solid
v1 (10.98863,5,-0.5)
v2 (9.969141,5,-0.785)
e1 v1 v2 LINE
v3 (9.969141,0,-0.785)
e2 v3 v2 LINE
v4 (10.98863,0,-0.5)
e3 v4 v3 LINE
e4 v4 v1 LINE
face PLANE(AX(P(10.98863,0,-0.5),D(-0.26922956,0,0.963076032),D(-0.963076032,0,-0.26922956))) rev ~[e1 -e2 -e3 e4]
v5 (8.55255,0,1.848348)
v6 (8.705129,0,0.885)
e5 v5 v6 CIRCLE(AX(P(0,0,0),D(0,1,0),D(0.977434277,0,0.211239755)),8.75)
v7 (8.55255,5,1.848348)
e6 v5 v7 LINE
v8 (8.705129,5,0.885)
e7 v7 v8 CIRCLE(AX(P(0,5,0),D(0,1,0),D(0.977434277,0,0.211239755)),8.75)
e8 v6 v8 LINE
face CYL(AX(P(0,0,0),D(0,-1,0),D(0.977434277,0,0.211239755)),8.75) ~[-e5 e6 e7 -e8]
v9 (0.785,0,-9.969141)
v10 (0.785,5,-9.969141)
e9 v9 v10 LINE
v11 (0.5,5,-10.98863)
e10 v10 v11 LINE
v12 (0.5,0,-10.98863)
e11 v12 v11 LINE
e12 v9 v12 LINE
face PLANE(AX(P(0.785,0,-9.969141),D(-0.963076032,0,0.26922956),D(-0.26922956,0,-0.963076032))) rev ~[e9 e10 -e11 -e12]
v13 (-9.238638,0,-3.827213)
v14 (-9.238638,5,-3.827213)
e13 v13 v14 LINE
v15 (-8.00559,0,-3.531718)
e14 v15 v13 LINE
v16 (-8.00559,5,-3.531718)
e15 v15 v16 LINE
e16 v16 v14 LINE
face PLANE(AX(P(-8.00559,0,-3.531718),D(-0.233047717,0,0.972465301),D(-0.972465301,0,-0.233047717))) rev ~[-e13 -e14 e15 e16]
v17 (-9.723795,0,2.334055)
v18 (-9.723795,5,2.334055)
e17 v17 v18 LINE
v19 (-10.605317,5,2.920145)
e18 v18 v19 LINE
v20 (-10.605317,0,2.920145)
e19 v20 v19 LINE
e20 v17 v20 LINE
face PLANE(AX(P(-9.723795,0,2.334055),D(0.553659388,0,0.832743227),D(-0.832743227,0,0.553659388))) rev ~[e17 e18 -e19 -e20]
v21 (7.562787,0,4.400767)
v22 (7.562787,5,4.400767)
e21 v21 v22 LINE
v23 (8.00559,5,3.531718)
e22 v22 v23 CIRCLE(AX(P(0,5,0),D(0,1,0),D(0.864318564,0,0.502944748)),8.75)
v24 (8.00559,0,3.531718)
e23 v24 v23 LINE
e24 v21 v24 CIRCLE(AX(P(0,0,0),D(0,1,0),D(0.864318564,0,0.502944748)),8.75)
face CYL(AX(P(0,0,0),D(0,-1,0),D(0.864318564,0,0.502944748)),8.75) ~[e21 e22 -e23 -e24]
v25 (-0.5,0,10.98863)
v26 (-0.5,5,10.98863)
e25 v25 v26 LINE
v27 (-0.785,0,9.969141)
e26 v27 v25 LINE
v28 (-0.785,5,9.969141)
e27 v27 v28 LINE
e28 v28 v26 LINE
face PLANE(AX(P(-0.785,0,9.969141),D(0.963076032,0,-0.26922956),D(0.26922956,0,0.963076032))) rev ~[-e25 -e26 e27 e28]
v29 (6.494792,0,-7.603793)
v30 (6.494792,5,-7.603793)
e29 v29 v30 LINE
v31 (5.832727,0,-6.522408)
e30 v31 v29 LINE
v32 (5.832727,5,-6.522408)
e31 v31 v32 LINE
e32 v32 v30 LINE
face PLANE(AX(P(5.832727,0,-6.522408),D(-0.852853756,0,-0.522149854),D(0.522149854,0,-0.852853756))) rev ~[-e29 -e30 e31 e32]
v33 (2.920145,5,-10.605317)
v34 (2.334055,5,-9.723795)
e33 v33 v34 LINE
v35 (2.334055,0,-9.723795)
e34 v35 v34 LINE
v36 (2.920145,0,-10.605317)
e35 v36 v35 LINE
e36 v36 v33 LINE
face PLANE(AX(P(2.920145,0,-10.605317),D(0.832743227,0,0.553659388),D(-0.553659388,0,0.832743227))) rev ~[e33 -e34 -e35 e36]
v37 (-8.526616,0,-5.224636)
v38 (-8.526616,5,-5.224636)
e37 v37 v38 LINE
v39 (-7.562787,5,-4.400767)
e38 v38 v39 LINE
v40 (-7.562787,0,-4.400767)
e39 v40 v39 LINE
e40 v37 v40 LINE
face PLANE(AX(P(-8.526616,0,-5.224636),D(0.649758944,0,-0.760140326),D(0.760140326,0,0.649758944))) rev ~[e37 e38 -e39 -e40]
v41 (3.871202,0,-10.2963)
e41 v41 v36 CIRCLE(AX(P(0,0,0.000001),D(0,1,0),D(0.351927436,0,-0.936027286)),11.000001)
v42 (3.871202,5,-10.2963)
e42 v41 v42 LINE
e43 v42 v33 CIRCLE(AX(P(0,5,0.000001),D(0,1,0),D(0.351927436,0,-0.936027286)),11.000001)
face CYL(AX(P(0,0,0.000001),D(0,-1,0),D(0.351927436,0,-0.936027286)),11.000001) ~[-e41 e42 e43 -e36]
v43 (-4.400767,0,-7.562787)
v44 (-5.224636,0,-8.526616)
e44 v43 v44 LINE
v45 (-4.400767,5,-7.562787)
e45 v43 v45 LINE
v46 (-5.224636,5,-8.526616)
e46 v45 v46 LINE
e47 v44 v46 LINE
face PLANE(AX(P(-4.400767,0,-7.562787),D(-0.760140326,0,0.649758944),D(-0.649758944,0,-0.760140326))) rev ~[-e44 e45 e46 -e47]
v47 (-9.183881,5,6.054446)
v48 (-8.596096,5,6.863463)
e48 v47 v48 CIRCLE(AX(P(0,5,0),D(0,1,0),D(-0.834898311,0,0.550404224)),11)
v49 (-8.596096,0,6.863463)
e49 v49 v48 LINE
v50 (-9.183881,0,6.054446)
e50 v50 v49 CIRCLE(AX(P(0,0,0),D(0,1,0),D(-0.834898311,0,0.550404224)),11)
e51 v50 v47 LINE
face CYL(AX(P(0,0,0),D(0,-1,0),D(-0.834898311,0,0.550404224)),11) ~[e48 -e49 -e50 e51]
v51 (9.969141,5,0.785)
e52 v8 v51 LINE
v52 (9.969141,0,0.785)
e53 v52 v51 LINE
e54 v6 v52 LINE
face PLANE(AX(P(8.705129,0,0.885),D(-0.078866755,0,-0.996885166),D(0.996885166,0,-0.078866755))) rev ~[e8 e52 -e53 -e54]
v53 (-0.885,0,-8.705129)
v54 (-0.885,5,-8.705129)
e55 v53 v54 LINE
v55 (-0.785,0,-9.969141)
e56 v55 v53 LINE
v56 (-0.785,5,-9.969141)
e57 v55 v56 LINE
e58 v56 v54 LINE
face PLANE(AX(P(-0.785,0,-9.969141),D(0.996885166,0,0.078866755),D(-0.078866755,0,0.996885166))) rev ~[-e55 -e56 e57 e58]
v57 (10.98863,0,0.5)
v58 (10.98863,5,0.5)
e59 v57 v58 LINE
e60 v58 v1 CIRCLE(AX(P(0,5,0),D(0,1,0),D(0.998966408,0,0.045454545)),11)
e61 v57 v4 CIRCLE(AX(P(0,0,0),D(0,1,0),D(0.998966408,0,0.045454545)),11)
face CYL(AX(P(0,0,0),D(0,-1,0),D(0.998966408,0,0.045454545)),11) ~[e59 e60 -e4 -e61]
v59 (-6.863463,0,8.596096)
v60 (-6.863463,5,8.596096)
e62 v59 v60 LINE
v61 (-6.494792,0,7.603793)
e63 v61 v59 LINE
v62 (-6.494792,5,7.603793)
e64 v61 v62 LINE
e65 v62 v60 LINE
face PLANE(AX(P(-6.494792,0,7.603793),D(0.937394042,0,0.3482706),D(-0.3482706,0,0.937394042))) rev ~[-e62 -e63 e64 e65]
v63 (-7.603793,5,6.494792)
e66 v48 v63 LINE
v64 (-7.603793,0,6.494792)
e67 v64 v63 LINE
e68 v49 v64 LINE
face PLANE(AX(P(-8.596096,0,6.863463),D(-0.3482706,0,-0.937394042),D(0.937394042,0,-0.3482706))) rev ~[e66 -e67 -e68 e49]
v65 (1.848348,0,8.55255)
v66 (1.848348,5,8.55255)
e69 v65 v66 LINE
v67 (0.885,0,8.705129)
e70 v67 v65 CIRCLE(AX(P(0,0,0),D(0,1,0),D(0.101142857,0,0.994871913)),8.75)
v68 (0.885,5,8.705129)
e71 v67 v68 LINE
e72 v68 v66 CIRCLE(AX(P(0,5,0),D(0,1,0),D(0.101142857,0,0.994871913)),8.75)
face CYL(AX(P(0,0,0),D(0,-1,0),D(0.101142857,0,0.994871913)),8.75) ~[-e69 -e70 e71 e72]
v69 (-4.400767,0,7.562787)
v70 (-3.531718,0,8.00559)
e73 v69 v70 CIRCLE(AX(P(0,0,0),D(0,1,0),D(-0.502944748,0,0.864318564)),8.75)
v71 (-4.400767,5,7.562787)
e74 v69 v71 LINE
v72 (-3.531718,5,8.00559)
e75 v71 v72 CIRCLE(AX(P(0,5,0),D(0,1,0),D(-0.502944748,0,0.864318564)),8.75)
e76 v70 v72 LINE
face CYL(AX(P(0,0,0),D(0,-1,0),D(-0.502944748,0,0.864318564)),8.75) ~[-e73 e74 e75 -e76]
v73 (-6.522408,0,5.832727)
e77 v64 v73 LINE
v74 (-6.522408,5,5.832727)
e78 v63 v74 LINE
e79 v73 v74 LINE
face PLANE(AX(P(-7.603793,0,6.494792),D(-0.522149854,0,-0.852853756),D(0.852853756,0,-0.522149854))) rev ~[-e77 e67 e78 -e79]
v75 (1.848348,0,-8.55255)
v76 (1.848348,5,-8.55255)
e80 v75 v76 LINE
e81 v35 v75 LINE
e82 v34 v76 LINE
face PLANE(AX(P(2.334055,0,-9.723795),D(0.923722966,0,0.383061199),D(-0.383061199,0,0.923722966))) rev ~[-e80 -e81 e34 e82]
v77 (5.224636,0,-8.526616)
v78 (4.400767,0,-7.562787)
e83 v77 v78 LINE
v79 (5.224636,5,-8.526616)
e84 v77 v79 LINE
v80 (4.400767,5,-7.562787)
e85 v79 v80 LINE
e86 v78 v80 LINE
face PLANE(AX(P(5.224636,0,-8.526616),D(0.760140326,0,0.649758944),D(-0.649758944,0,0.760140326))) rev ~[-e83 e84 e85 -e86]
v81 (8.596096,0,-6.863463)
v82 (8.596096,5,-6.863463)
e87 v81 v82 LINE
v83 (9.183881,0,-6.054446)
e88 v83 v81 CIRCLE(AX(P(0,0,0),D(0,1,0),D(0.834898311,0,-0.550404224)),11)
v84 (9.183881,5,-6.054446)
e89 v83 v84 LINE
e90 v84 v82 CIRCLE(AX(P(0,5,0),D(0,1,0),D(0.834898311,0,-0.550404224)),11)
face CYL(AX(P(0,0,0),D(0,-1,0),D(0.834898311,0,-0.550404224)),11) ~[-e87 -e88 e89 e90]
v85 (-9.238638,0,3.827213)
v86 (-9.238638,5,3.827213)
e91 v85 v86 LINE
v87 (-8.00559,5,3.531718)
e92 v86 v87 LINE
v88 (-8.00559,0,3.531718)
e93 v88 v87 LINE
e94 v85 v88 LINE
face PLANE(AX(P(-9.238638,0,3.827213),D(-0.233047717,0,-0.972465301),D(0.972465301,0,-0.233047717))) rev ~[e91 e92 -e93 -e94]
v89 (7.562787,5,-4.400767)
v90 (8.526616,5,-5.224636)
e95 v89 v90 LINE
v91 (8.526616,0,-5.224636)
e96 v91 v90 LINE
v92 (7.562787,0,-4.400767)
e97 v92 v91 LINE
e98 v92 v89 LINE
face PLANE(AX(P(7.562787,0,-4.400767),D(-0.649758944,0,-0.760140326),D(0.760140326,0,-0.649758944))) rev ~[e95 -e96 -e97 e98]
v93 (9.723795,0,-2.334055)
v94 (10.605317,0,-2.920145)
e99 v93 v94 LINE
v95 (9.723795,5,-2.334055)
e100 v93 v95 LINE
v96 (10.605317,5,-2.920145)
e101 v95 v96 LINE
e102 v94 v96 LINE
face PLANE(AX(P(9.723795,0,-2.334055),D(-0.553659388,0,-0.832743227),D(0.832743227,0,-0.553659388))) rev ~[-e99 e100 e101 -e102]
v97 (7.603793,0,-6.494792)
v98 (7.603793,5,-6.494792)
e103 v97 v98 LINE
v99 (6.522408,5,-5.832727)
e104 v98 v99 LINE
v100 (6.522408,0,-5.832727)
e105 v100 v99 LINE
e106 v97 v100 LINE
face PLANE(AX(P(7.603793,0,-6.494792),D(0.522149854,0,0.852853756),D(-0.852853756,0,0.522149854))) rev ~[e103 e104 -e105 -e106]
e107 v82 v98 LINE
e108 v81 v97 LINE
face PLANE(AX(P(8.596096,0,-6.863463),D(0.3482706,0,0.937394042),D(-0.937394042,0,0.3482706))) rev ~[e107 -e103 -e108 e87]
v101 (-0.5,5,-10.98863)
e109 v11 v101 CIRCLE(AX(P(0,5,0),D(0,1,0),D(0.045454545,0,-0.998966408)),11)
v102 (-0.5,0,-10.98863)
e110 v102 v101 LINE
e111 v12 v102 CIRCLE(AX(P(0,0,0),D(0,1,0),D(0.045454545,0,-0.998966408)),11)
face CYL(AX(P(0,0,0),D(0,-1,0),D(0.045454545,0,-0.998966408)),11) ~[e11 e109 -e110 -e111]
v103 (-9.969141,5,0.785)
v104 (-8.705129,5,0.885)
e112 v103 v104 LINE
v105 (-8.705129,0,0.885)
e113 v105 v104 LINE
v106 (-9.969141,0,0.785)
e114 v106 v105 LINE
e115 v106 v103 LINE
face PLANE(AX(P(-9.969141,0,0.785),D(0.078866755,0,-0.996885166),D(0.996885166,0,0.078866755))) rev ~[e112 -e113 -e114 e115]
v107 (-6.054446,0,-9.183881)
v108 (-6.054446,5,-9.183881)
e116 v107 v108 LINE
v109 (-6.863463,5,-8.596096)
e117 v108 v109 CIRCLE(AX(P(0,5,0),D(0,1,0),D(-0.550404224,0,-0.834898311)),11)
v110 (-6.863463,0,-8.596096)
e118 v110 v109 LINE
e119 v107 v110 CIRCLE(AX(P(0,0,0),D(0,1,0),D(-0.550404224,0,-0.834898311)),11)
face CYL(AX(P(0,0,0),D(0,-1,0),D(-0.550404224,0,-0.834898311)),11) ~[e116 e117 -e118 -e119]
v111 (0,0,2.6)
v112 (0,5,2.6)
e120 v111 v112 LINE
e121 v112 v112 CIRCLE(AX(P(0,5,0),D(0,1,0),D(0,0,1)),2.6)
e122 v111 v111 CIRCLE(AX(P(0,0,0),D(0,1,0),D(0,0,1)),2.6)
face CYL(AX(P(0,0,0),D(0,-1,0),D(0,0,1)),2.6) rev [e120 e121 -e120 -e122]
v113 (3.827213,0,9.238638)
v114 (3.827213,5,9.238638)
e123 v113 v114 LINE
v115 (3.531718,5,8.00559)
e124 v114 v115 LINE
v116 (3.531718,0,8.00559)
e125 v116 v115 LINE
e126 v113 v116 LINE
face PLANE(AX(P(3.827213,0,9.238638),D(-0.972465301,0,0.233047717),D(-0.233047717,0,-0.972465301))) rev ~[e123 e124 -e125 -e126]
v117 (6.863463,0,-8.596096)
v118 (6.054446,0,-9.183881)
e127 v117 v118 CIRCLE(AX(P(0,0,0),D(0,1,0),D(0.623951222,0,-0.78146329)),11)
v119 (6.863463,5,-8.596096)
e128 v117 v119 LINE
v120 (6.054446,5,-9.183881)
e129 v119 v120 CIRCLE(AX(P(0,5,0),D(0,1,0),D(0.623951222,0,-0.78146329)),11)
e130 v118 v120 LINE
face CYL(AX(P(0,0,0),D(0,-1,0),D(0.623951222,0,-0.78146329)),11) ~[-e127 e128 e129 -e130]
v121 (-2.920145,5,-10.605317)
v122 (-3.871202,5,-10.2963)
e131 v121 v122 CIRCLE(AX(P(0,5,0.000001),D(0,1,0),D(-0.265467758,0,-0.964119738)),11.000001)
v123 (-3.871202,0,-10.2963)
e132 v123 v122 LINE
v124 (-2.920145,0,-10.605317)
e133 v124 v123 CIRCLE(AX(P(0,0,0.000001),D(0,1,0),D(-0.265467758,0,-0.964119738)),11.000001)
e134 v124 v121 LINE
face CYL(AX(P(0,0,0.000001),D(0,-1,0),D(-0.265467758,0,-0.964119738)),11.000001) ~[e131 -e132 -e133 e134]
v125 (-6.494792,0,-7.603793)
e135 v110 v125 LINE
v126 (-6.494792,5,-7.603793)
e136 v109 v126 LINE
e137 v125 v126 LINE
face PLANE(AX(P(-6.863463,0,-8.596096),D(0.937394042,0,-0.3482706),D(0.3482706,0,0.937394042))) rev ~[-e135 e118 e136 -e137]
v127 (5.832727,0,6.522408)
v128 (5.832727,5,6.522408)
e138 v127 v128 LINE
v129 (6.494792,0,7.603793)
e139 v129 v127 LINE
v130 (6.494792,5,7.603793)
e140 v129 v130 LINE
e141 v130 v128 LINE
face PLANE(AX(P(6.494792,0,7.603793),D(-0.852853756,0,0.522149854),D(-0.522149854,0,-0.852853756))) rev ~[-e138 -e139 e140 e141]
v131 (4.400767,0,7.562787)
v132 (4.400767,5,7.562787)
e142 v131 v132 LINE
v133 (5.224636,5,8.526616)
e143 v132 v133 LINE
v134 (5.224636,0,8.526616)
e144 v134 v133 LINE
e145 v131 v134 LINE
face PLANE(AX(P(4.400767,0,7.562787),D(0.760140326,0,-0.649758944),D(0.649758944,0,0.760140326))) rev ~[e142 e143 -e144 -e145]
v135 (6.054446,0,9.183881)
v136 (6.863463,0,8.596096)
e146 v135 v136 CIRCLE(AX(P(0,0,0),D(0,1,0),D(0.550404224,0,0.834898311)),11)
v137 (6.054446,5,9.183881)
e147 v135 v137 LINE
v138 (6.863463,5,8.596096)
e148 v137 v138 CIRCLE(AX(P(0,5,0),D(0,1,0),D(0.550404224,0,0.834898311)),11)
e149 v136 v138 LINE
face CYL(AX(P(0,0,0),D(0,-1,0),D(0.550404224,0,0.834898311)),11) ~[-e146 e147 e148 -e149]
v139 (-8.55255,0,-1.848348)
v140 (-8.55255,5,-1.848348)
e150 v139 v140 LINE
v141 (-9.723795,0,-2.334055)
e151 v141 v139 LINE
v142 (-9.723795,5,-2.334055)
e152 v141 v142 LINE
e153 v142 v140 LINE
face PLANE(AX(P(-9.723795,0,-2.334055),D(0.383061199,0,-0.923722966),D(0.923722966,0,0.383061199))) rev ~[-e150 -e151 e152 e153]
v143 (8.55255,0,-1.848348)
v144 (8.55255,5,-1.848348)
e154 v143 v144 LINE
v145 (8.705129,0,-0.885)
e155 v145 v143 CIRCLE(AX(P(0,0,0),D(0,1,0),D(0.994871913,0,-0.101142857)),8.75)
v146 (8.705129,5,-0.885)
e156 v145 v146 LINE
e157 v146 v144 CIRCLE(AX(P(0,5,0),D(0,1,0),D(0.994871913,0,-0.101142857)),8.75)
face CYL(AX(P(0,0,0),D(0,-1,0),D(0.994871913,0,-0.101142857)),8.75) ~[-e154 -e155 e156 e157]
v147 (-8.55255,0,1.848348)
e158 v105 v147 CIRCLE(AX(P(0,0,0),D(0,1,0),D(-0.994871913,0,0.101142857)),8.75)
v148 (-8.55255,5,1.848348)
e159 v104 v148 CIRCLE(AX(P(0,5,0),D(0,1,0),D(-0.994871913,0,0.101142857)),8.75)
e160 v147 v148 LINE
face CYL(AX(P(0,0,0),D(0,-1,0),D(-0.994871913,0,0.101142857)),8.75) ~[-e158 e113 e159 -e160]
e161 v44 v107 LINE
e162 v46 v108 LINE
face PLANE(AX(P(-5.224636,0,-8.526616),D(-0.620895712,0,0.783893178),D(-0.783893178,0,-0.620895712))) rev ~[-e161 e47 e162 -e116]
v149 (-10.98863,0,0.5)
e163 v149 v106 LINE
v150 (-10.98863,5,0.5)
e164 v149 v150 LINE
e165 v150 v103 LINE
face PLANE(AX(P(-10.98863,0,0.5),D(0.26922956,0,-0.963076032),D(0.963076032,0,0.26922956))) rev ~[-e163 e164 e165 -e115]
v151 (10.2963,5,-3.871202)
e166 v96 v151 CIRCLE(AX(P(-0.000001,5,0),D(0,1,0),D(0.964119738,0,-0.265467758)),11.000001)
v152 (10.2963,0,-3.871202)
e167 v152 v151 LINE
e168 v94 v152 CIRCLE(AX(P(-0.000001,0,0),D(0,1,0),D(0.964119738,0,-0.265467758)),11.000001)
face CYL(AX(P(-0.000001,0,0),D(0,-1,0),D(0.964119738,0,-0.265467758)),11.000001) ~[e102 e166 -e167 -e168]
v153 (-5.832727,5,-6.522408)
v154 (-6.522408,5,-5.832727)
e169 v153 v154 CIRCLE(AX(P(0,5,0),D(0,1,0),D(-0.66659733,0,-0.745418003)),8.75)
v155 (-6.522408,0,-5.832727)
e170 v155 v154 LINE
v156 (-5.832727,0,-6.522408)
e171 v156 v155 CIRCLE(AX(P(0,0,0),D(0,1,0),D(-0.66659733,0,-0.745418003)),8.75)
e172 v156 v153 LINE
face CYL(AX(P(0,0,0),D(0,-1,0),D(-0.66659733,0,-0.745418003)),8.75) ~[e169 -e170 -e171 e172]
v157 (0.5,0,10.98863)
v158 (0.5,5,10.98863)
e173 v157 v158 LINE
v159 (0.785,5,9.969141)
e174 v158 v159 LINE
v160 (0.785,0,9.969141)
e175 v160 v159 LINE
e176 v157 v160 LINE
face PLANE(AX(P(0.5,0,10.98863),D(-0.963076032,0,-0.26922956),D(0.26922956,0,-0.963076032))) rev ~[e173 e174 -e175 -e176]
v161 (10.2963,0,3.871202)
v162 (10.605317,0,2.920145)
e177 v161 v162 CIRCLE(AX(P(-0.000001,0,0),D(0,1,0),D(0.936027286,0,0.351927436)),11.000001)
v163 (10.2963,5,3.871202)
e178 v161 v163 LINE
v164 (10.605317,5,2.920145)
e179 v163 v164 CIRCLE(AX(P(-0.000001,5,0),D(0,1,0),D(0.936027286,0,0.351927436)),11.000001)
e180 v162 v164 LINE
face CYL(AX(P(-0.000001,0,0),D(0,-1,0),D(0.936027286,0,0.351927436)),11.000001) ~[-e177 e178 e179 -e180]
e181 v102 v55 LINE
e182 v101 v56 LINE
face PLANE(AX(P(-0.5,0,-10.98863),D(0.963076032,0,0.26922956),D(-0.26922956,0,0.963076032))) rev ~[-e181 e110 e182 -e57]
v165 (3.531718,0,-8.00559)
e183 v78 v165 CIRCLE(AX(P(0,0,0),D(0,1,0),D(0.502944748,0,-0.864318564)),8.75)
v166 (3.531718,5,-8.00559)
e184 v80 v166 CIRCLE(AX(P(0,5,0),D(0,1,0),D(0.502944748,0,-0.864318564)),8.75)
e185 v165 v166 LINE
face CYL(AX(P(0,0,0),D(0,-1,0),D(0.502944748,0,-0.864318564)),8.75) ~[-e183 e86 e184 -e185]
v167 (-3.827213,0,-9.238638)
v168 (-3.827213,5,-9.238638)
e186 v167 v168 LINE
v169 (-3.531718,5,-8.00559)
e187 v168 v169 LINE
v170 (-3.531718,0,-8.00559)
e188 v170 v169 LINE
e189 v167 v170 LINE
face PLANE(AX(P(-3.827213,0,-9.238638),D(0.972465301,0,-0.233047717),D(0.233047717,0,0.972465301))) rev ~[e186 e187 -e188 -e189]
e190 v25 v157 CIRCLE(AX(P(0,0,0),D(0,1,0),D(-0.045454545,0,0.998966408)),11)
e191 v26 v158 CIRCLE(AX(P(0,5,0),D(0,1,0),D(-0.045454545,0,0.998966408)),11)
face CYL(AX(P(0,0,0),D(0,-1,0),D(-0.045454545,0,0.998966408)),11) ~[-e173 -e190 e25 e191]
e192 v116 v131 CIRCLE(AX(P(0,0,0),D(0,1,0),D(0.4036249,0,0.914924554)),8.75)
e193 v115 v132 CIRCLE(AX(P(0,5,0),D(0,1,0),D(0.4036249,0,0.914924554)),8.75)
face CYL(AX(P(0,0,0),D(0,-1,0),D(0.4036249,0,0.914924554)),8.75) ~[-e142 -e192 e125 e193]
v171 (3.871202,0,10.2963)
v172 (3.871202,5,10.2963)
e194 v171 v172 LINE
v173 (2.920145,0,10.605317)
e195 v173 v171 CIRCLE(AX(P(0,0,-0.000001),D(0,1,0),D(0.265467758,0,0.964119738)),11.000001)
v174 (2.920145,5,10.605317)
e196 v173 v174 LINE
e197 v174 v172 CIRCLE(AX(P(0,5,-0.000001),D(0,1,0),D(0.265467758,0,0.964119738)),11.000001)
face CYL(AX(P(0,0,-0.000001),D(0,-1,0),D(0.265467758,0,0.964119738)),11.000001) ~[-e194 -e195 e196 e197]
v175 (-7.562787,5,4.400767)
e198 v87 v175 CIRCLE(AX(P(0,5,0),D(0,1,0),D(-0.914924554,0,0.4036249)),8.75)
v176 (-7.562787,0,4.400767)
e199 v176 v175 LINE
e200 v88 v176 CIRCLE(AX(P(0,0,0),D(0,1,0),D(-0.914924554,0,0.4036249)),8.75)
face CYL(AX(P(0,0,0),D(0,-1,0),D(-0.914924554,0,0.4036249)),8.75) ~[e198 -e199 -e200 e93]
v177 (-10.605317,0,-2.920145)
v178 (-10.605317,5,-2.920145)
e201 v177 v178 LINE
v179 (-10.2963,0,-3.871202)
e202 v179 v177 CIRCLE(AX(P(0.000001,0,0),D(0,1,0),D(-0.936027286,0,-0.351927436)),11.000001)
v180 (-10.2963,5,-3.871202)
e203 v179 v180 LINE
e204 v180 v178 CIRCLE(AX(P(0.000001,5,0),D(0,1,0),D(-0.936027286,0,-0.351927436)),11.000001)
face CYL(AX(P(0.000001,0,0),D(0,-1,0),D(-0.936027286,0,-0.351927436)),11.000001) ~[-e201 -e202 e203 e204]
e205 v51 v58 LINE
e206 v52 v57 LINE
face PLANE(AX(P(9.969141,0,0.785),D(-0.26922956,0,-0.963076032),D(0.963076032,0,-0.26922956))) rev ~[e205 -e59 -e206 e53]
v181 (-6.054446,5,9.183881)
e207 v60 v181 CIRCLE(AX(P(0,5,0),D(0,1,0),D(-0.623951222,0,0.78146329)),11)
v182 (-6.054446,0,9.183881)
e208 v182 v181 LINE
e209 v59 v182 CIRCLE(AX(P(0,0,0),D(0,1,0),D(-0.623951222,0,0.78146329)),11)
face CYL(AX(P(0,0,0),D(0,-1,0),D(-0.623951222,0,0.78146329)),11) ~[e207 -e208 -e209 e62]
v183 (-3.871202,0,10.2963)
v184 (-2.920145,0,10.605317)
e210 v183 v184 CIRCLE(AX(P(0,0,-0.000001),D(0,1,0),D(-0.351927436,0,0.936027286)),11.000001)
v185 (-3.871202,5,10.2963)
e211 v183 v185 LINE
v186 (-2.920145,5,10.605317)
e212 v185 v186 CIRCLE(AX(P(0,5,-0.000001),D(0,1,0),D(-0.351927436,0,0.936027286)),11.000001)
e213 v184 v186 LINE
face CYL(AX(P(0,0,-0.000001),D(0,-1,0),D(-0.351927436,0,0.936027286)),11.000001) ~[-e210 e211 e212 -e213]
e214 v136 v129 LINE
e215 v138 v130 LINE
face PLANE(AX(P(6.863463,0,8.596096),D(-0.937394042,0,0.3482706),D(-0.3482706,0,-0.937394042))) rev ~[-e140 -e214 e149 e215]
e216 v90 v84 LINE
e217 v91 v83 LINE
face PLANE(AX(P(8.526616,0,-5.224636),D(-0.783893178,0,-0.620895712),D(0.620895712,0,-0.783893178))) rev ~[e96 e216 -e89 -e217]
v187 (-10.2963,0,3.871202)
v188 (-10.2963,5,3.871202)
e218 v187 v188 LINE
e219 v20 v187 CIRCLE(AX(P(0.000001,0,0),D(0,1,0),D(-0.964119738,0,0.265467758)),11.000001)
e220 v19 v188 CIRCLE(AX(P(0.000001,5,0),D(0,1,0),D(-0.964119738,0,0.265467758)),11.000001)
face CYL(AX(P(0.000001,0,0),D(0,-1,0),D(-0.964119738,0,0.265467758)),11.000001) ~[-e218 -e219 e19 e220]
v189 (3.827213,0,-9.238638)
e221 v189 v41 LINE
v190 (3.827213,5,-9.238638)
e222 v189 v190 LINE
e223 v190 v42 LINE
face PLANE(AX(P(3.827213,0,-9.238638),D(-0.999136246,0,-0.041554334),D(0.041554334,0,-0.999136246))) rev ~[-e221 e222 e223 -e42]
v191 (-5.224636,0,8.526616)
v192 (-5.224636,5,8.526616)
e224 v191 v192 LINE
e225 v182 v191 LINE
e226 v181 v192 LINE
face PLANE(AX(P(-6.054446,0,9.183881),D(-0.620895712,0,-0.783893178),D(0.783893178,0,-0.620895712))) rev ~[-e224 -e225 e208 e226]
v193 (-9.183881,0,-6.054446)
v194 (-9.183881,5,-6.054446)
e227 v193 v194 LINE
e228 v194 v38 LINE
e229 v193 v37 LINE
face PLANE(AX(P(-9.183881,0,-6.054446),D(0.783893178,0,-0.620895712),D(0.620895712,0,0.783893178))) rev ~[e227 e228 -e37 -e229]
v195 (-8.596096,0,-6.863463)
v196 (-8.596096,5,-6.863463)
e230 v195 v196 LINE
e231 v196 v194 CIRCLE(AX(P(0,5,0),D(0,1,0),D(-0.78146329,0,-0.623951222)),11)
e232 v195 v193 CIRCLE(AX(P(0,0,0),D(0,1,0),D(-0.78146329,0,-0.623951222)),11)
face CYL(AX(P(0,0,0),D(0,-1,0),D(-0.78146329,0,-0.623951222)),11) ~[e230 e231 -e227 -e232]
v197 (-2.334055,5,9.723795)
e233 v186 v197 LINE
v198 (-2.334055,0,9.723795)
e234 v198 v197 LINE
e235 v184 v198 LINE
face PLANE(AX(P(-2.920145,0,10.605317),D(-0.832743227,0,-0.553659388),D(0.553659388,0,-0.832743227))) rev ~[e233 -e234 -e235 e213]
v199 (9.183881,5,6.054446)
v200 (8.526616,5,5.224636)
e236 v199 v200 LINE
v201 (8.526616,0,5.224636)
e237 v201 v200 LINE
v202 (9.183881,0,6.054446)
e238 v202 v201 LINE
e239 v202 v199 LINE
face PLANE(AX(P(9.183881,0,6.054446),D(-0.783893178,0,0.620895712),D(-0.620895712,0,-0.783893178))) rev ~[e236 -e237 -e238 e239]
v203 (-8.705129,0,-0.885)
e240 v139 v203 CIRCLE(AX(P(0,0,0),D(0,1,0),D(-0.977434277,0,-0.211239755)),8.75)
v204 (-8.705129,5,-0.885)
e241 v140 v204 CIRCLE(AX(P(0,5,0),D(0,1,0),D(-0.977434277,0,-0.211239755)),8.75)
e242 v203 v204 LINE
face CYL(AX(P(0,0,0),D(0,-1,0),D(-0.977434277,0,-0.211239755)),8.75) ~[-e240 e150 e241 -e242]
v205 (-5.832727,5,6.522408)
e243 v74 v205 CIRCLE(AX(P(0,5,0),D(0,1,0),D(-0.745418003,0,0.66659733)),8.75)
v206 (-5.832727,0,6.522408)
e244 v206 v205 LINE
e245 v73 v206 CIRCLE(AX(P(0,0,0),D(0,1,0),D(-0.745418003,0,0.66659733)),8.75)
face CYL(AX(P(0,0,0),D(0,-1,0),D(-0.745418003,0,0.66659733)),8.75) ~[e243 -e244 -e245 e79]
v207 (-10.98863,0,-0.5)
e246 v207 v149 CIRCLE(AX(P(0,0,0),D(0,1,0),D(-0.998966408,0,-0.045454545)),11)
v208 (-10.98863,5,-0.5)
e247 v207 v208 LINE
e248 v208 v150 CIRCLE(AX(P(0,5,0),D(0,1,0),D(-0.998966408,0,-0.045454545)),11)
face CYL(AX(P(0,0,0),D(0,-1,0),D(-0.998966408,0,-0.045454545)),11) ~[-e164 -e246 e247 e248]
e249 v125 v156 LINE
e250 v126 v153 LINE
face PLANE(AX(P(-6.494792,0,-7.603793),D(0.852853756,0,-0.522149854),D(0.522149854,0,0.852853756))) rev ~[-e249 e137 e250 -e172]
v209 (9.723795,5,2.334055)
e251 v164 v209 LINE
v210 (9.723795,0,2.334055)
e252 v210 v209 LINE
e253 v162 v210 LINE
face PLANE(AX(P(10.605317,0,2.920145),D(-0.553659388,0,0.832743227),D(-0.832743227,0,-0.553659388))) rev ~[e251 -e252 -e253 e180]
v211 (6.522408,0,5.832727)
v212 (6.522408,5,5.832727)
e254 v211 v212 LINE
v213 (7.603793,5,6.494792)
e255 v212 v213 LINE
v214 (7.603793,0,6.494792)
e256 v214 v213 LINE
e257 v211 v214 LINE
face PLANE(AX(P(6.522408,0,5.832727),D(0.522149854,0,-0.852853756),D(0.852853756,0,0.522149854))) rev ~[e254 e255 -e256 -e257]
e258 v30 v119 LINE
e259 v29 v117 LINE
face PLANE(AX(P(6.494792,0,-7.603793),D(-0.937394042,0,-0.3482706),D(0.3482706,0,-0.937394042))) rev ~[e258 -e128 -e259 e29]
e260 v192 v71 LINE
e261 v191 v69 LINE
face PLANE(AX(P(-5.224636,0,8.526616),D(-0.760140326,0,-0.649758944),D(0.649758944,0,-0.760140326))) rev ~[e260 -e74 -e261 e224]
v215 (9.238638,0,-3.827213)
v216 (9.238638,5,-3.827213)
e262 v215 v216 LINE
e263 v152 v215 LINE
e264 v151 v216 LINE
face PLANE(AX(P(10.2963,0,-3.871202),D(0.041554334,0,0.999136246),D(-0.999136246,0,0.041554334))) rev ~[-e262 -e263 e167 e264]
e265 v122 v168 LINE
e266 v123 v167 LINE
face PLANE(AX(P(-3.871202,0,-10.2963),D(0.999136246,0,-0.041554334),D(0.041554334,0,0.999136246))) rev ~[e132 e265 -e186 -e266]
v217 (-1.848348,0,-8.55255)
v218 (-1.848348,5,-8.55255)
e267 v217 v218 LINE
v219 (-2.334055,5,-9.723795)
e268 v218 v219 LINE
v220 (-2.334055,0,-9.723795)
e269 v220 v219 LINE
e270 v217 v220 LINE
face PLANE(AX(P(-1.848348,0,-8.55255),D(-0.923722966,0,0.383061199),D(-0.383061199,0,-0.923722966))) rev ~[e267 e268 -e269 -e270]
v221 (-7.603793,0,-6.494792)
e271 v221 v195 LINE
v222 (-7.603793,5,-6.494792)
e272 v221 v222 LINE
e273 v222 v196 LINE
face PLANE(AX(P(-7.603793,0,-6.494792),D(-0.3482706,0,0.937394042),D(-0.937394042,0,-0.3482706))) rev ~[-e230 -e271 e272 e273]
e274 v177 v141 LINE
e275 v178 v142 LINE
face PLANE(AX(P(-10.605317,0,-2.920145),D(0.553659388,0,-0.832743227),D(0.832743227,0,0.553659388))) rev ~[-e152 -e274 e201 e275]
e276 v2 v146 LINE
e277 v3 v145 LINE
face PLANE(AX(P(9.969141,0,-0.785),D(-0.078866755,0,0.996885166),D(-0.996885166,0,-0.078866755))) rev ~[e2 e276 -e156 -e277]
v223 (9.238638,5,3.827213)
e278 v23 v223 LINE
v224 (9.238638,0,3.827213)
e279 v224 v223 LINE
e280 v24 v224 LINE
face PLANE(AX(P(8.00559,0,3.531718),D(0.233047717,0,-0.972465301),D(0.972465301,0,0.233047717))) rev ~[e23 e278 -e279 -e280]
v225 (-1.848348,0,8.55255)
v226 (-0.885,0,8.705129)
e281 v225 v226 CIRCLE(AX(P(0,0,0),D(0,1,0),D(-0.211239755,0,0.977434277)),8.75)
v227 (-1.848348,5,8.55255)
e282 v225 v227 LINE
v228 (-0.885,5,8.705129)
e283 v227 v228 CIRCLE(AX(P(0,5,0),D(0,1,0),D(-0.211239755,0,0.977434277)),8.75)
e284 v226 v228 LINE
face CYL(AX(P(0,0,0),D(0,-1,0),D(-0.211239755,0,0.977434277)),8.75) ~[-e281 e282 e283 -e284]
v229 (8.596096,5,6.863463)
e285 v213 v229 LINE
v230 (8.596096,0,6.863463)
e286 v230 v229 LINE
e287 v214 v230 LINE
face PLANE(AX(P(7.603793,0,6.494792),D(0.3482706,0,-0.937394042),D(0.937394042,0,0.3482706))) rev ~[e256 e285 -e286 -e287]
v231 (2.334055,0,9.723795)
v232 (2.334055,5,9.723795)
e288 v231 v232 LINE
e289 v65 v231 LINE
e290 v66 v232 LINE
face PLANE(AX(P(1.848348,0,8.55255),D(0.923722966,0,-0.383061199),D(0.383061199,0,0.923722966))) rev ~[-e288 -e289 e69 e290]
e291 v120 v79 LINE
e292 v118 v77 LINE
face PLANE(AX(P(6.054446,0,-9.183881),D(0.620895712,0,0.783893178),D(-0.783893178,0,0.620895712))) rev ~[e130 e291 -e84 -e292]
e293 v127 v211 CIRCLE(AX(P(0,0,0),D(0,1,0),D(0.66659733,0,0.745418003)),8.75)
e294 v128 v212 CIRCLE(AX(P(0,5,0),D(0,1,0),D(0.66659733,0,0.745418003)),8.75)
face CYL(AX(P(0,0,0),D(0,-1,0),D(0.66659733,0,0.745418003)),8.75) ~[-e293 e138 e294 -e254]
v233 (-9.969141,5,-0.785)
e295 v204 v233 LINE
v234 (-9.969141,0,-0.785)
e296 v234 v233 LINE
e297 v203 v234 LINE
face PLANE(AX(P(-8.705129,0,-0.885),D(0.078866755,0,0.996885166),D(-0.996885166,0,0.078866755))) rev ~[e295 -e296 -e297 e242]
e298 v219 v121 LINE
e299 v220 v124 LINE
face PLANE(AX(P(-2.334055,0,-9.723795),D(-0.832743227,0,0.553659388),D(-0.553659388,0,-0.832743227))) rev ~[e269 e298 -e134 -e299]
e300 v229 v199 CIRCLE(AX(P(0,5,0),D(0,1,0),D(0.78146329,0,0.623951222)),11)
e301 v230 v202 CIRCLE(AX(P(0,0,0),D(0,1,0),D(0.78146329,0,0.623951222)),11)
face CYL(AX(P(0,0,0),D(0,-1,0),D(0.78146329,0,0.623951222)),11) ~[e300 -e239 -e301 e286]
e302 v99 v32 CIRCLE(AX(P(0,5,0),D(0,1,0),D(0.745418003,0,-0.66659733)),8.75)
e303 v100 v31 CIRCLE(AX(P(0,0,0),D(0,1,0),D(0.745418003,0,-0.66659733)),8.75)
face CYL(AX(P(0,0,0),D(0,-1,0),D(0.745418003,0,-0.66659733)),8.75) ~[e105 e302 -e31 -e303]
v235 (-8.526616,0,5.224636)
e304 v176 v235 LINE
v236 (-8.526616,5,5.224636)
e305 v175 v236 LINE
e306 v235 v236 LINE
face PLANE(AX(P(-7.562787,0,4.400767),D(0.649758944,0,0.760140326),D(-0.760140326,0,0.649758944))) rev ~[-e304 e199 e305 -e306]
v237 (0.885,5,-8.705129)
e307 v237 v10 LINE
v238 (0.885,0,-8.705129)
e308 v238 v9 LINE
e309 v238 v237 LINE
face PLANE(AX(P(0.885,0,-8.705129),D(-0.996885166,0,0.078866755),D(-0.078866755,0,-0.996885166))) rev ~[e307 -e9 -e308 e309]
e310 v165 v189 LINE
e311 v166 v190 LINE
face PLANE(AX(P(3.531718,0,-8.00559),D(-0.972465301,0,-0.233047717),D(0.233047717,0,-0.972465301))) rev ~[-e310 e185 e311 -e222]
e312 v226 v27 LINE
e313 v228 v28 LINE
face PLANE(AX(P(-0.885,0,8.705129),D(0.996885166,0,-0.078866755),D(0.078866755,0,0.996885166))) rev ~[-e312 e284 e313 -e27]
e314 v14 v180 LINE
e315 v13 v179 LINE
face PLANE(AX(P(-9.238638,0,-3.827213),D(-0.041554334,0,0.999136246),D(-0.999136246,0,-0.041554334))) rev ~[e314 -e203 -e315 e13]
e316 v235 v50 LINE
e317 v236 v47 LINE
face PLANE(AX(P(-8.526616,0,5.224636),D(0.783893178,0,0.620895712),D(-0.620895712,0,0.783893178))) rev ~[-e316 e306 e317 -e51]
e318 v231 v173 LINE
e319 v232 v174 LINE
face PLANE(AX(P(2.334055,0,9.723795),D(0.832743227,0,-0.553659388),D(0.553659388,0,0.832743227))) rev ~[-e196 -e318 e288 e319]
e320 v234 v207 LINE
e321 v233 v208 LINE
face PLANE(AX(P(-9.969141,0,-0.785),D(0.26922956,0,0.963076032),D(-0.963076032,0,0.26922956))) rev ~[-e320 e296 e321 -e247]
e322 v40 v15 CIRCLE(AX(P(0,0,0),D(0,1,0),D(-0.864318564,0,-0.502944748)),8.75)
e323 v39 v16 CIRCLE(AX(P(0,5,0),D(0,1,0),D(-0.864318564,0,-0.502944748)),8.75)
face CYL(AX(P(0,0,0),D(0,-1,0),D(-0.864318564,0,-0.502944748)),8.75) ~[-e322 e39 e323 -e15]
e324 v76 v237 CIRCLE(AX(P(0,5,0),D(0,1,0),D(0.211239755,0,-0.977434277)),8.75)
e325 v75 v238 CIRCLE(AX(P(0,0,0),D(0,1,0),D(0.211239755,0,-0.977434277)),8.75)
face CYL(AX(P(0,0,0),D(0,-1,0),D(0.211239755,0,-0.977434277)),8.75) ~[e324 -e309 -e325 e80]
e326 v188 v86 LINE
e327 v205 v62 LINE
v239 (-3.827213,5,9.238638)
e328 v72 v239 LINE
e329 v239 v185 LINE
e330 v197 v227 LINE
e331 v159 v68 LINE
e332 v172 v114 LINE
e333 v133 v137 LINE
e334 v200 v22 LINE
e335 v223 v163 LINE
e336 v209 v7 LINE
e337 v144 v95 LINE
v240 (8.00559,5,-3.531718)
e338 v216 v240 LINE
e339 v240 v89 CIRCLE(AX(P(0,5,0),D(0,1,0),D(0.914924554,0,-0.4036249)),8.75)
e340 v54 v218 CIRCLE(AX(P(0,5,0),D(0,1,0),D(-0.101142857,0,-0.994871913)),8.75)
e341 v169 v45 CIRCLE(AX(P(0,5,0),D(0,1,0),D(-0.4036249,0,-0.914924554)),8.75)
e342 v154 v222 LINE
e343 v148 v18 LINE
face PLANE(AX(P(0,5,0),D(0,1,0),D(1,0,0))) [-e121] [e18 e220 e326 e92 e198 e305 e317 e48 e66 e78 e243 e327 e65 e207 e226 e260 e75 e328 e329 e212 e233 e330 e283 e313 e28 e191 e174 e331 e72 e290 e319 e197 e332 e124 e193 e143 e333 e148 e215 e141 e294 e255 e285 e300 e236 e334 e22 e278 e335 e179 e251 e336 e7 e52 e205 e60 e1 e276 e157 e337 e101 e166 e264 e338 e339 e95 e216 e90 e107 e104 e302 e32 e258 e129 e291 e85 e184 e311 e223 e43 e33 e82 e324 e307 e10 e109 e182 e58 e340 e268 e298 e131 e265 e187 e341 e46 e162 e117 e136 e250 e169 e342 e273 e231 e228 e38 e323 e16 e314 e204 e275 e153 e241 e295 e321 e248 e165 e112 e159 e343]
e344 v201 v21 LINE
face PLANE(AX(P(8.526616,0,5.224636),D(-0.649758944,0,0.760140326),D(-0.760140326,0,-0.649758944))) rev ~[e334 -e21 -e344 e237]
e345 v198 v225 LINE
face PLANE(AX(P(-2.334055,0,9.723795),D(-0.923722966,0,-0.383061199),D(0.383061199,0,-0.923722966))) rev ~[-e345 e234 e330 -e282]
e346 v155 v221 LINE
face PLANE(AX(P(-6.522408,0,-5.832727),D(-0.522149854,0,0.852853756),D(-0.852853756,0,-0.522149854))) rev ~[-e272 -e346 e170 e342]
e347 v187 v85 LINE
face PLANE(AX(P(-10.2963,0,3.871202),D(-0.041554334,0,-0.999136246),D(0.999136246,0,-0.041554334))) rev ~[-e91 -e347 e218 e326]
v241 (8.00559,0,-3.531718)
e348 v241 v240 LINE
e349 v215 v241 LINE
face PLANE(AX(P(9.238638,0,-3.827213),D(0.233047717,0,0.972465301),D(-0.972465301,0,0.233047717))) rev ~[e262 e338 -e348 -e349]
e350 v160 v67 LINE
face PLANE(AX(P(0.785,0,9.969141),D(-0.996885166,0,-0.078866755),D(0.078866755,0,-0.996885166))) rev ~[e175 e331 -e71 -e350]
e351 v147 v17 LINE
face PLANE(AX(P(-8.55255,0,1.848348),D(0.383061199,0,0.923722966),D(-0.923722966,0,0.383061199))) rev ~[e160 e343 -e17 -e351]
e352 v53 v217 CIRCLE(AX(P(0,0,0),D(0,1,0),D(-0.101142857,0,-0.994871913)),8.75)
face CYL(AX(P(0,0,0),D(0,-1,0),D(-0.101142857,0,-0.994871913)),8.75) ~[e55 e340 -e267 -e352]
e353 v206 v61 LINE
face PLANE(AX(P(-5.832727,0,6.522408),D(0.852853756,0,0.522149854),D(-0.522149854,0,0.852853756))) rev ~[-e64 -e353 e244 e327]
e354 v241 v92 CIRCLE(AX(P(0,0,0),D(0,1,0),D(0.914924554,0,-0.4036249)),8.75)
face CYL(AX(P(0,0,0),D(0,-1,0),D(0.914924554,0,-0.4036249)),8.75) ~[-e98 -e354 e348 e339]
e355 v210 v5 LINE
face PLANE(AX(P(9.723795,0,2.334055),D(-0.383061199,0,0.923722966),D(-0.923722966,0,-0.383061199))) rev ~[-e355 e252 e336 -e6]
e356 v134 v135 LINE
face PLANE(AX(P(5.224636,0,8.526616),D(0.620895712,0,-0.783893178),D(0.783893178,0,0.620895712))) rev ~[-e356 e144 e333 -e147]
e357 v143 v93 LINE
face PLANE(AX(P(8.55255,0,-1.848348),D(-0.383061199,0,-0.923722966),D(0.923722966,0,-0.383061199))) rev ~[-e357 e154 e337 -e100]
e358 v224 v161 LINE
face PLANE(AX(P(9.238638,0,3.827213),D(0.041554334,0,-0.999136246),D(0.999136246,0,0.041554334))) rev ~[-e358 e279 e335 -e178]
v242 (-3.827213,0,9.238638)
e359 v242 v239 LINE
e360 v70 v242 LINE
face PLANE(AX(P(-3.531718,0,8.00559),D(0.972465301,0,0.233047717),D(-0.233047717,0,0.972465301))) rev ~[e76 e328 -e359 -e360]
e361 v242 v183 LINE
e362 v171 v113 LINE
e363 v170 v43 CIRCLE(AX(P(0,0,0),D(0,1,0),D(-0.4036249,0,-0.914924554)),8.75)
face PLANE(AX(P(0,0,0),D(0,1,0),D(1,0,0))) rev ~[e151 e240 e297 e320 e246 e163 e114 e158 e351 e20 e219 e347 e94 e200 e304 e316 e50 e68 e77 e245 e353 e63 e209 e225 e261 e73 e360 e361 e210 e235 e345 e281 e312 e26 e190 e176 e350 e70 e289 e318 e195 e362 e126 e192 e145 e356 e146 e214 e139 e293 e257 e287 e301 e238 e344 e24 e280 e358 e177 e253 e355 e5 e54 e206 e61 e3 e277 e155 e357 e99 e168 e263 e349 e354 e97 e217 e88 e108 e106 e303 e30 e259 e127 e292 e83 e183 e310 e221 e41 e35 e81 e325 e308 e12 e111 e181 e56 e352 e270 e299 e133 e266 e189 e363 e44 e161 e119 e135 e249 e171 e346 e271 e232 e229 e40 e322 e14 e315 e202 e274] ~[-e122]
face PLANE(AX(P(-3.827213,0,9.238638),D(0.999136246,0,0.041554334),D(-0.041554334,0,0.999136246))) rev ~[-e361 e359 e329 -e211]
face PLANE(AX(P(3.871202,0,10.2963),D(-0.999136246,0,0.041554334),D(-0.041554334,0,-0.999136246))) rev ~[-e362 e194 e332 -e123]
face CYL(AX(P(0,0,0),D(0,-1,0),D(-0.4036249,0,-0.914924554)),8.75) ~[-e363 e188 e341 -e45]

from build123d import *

# Parameters (mm, degrees)
SKETCH1_R           = 2.6
BOSS_EXTRUDE1_DEPTH = 5


with BuildPart() as part:
    # Sketch1 → Boss-Extrude1 (new body)
    with BuildSketch(Plane(origin=(0, 0, 0), x_dir=(1, 0, 0), z_dir=(0, 1, 0))):
        with BuildLine():
            Line((0.885, 8.705129235), (0.785, 9.969141137))
            Line((0.785, 9.969141137), (0.5, 10.988630488))
            ThreePointArc((0.5, 10.988630488), (0, 11), (-0.5, 10.988630488))
            Line((-0.5, 10.988630488), (-0.785, 9.969141137))
            Line((-0.785, 9.969141137), (-0.885, 8.705129235))
            ThreePointArc((-0.885, 8.705129235), (-1.368801569, 8.64227298), (-1.848347855, 8.552549924))
            Line((-1.848347855, 8.552549924), (-2.334054665, 9.72379498))
            Line((-2.334054665, 9.72379498), (-2.920145308, 10.605317128))
            ThreePointArc((-2.920145308, 10.605317128), (-3.399186938, 10.461621679), (-3.871201824, 10.296300134))
            Line((-3.871201824, 10.296300134), (-3.827213396, 9.238638299))
            Line((-3.827213396, 9.238638299), (-3.531717889, 8.005589844))
            ThreePointArc((-3.531717889, 8.005589844), (-3.972416873, 7.796307087), (-4.400766544, 7.562787438))
            Line((-4.400766544, 7.562787438), (-5.224635797, 8.526616022))
            Line((-5.224635797, 8.526616022), (-6.054446447, 9.183881436))
            ThreePointArc((-6.054446447, 9.183881436), (-6.465637775, 8.899186938), (-6.863463441, 8.596096183))
            Line((-6.863463441, 8.596096183), (-6.494792479, 7.603793176))
            Line((-6.494792479, 7.603793176), (-5.832726624, 6.522407541))
            ThreePointArc((-5.832726624, 6.522407541), (-6.187184335, 6.187184335), (-6.522407541, 5.832726624))
            Line((-6.522407541, 5.832726624), (-7.603793176, 6.494792479))
            Line((-7.603793176, 6.494792479), (-8.596096183, 6.863463441))
            ThreePointArc((-8.596096183, 6.863463441), (-8.899186938, 6.465637775), (-9.183881436, 6.054446447))
            Line((-9.183881436, 6.054446447), (-8.526616022, 5.224635797))
            Line((-8.526616022, 5.224635797), (-7.562787438, 4.400766544))
            ThreePointArc((-7.562787438, 4.400766544), (-7.796307087, 3.972416873), (-8.005589844, 3.531717889))
            Line((-8.005589844, 3.531717889), (-9.238638299, 3.827213396))
            Line((-9.238638299, 3.827213396), (-10.296300134, 3.871201824))
            ThreePointArc((-10.296300134, 3.871201824), (-10.461621679, 3.399186938), (-10.605317128, 2.920145308))
            Line((-10.605317128, 2.920145308), (-9.72379498, 2.334054665))
            Line((-9.72379498, 2.334054665), (-8.552549924, 1.848347855))
            ThreePointArc((-8.552549924, 1.848347855), (-8.64227298, 1.368801569), (-8.705129235, 0.885))
            Line((-8.705129235, 0.885), (-9.969141137, 0.785))
            Line((-9.969141137, 0.785), (-10.988630488, 0.5))
            ThreePointArc((-10.988630488, 0.5), (-11, 0), (-10.988630488, -0.5))
            Line((-10.988630488, -0.5), (-9.969141137, -0.785))
            Line((-9.969141137, -0.785), (-8.705129235, -0.885))
            ThreePointArc((-8.705129235, -0.885), (-8.64227298, -1.368801569), (-8.552549924, -1.848347855))
            Line((-8.552549924, -1.848347855), (-9.72379498, -2.334054665))
            Line((-9.72379498, -2.334054665), (-10.605317128, -2.920145308))
            ThreePointArc((-10.605317128, -2.920145308), (-10.461621679, -3.399186938), (-10.296300134, -3.871201824))
            Line((-10.296300134, -3.871201824), (-9.238638299, -3.827213396))
            Line((-9.238638299, -3.827213396), (-8.005589844, -3.531717889))
            ThreePointArc((-8.005589844, -3.531717889), (-7.796307087, -3.972416873), (-7.562787438, -4.400766544))
            Line((-7.562787438, -4.400766544), (-8.526616022, -5.224635797))
            Line((-8.526616022, -5.224635797), (-9.183881436, -6.054446447))
            ThreePointArc((-9.183881436, -6.054446447), (-8.899186938, -6.465637775), (-8.596096183, -6.863463441))
            Line((-8.596096183, -6.863463441), (-7.603793176, -6.494792479))
            Line((-7.603793176, -6.494792479), (-6.522407541, -5.832726624))
            ThreePointArc((-6.522407541, -5.832726624), (-6.187184335, -6.187184335), (-5.832726624, -6.522407541))
            Line((-5.832726624, -6.522407541), (-6.494792479, -7.603793176))
            Line((-6.494792479, -7.603793176), (-6.863463441, -8.596096183))
            ThreePointArc((-6.863463441, -8.596096183), (-6.465637775, -8.899186938), (-6.054446447, -9.183881436))
            Line((-6.054446447, -9.183881436), (-5.224635797, -8.526616022))
            Line((-5.224635797, -8.526616022), (-4.400766544, -7.562787438))
            ThreePointArc((-4.400766544, -7.562787438), (-3.972416873, -7.796307087), (-3.531717889, -8.005589844))
            Line((-3.531717889, -8.005589844), (-3.827213396, -9.238638299))
            Line((-3.827213396, -9.238638299), (-3.871201824, -10.296300134))
            ThreePointArc((-3.871201824, -10.296300134), (-3.399186938, -10.461621679), (-2.920145308, -10.605317128))
            Line((-2.920145308, -10.605317128), (-2.334054665, -9.72379498))
            Line((-2.334054665, -9.72379498), (-1.848347855, -8.552549924))
            ThreePointArc((-1.848347855, -8.552549924), (-1.368801569, -8.64227298), (-0.885, -8.705129235))
            Line((-0.885, -8.705129235), (-0.785, -9.969141137))
            Line((-0.785, -9.969141137), (-0.5, -10.988630488))
            ThreePointArc((-0.5, -10.988630488), (0, -11), (0.5, -10.988630488))
            Line((0.5, -10.988630488), (0.785, -9.969141137))
            Line((0.785, -9.969141137), (0.885, -8.705129235))
            ThreePointArc((0.885, -8.705129235), (1.368801569, -8.64227298), (1.848347855, -8.552549924))
            Line((1.848347855, -8.552549924), (2.334054665, -9.72379498))
            Line((2.334054665, -9.72379498), (2.920145308, -10.605317128))
            ThreePointArc((2.920145308, -10.605317128), (3.399186938, -10.461621679), (3.871201824, -10.296300134))
            Line((3.871201824, -10.296300134), (3.827213396, -9.238638299))
            Line((3.827213396, -9.238638299), (3.531717889, -8.005589844))
            ThreePointArc((3.531717889, -8.005589844), (3.972416873, -7.796307087), (4.400766544, -7.562787438))
            Line((4.400766544, -7.562787438), (5.224635797, -8.526616022))
            Line((5.224635797, -8.526616022), (6.054446447, -9.183881436))
            ThreePointArc((6.054446447, -9.183881436), (6.465637775, -8.899186938), (6.863463441, -8.596096183))
            Line((6.863463441, -8.596096183), (6.494792479, -7.603793176))
            Line((6.494792479, -7.603793176), (5.832726624, -6.522407541))
            ThreePointArc((5.832726624, -6.522407541), (6.187184335, -6.187184335), (6.522407541, -5.832726624))
            Line((6.522407541, -5.832726624), (7.603793176, -6.494792479))
            Line((7.603793176, -6.494792479), (8.596096183, -6.863463441))
            ThreePointArc((8.596096183, -6.863463441), (8.899186938, -6.465637775), (9.183881436, -6.054446447))
            Line((9.183881436, -6.054446447), (8.526616022, -5.224635797))
            Line((8.526616022, -5.224635797), (7.562787438, -4.400766544))
            ThreePointArc((7.562787438, -4.400766544), (7.796307087, -3.972416873), (8.005589844, -3.531717889))
            Line((8.005589844, -3.531717889), (9.238638299, -3.827213396))
            Line((9.238638299, -3.827213396), (10.296300134, -3.871201824))
            ThreePointArc((10.296300134, -3.871201824), (10.461621679, -3.399186938), (10.605317128, -2.920145308))
            Line((10.605317128, -2.920145308), (9.72379498, -2.334054665))
            Line((9.72379498, -2.334054665), (8.552549924, -1.848347855))
            ThreePointArc((8.552549924, -1.848347855), (8.64227298, -1.368801569), (8.705129235, -0.885))
            Line((8.705129235, -0.885), (9.969141137, -0.785))
            Line((9.969141137, -0.785), (10.988630488, -0.5))
            ThreePointArc((10.988630488, -0.5), (11, 0), (10.988630488, 0.5))
            Line((10.988630488, 0.5), (9.969141137, 0.785))
            Line((9.969141137, 0.785), (8.705129235, 0.885))
            ThreePointArc((8.705129235, 0.885), (8.64227298, 1.368801569), (8.552549924, 1.848347855))
            Line((8.552549924, 1.848347855), (9.72379498, 2.334054665))
            Line((9.72379498, 2.334054665), (10.605317128, 2.920145308))
            ThreePointArc((10.605317128, 2.920145308), (10.461621679, 3.399186938), (10.296300134, 3.871201824))
            Line((10.296300134, 3.871201824), (9.238638299, 3.827213396))
            Line((9.238638299, 3.827213396), (8.005589844, 3.531717889))
            ThreePointArc((8.005589844, 3.531717889), (7.796307087, 3.972416873), (7.562787438, 4.400766544))
            Line((7.562787438, 4.400766544), (8.526616022, 5.224635797))
            Line((8.526616022, 5.224635797), (9.183881436, 6.054446447))
            ThreePointArc((9.183881436, 6.054446447), (8.899186938, 6.465637775), (8.596096183, 6.863463441))
            Line((8.596096183, 6.863463441), (7.603793176, 6.494792479))
            Line((7.603793176, 6.494792479), (6.522407541, 5.832726624))
            ThreePointArc((6.522407541, 5.832726624), (6.187184335, 6.187184335), (5.832726624, 6.522407541))
            Line((5.832726624, 6.522407541), (6.494792479, 7.603793176))
            Line((6.494792479, 7.603793176), (6.863463441, 8.596096183))
            ThreePointArc((6.863463441, 8.596096183), (6.465637775, 8.899186938), (6.054446447, 9.183881436))
            Line((6.054446447, 9.183881436), (5.224635797, 8.526616022))
            Line((5.224635797, 8.526616022), (4.400766544, 7.562787438))
            ThreePointArc((4.400766544, 7.562787438), (3.972416873, 7.796307087), (3.531717889, 8.005589844))
            Line((3.531717889, 8.005589844), (3.827213396, 9.238638299))
            Line((3.827213396, 9.238638299), (3.871201824, 10.296300134))
            ThreePointArc((3.871201824, 10.296300134), (3.399186938, 10.461621679), (2.920145308, 10.605317128))
            Line((2.920145308, 10.605317128), (2.334054665, 9.72379498))
            Line((2.334054665, 9.72379498), (1.848347855, 8.552549924))
            ThreePointArc((1.848347855, 8.552549924), (1.368801569, 8.64227298), (0.885, 8.705129235))
        make_face()
        with Locations(Location((0, 0, 0), (0, 0, 270))):
            Circle(SKETCH1_R, mode=Mode.SUBTRACT)
    extrude(amount=BOSS_EXTRUDE1_DEPTH)


solid = part.part
